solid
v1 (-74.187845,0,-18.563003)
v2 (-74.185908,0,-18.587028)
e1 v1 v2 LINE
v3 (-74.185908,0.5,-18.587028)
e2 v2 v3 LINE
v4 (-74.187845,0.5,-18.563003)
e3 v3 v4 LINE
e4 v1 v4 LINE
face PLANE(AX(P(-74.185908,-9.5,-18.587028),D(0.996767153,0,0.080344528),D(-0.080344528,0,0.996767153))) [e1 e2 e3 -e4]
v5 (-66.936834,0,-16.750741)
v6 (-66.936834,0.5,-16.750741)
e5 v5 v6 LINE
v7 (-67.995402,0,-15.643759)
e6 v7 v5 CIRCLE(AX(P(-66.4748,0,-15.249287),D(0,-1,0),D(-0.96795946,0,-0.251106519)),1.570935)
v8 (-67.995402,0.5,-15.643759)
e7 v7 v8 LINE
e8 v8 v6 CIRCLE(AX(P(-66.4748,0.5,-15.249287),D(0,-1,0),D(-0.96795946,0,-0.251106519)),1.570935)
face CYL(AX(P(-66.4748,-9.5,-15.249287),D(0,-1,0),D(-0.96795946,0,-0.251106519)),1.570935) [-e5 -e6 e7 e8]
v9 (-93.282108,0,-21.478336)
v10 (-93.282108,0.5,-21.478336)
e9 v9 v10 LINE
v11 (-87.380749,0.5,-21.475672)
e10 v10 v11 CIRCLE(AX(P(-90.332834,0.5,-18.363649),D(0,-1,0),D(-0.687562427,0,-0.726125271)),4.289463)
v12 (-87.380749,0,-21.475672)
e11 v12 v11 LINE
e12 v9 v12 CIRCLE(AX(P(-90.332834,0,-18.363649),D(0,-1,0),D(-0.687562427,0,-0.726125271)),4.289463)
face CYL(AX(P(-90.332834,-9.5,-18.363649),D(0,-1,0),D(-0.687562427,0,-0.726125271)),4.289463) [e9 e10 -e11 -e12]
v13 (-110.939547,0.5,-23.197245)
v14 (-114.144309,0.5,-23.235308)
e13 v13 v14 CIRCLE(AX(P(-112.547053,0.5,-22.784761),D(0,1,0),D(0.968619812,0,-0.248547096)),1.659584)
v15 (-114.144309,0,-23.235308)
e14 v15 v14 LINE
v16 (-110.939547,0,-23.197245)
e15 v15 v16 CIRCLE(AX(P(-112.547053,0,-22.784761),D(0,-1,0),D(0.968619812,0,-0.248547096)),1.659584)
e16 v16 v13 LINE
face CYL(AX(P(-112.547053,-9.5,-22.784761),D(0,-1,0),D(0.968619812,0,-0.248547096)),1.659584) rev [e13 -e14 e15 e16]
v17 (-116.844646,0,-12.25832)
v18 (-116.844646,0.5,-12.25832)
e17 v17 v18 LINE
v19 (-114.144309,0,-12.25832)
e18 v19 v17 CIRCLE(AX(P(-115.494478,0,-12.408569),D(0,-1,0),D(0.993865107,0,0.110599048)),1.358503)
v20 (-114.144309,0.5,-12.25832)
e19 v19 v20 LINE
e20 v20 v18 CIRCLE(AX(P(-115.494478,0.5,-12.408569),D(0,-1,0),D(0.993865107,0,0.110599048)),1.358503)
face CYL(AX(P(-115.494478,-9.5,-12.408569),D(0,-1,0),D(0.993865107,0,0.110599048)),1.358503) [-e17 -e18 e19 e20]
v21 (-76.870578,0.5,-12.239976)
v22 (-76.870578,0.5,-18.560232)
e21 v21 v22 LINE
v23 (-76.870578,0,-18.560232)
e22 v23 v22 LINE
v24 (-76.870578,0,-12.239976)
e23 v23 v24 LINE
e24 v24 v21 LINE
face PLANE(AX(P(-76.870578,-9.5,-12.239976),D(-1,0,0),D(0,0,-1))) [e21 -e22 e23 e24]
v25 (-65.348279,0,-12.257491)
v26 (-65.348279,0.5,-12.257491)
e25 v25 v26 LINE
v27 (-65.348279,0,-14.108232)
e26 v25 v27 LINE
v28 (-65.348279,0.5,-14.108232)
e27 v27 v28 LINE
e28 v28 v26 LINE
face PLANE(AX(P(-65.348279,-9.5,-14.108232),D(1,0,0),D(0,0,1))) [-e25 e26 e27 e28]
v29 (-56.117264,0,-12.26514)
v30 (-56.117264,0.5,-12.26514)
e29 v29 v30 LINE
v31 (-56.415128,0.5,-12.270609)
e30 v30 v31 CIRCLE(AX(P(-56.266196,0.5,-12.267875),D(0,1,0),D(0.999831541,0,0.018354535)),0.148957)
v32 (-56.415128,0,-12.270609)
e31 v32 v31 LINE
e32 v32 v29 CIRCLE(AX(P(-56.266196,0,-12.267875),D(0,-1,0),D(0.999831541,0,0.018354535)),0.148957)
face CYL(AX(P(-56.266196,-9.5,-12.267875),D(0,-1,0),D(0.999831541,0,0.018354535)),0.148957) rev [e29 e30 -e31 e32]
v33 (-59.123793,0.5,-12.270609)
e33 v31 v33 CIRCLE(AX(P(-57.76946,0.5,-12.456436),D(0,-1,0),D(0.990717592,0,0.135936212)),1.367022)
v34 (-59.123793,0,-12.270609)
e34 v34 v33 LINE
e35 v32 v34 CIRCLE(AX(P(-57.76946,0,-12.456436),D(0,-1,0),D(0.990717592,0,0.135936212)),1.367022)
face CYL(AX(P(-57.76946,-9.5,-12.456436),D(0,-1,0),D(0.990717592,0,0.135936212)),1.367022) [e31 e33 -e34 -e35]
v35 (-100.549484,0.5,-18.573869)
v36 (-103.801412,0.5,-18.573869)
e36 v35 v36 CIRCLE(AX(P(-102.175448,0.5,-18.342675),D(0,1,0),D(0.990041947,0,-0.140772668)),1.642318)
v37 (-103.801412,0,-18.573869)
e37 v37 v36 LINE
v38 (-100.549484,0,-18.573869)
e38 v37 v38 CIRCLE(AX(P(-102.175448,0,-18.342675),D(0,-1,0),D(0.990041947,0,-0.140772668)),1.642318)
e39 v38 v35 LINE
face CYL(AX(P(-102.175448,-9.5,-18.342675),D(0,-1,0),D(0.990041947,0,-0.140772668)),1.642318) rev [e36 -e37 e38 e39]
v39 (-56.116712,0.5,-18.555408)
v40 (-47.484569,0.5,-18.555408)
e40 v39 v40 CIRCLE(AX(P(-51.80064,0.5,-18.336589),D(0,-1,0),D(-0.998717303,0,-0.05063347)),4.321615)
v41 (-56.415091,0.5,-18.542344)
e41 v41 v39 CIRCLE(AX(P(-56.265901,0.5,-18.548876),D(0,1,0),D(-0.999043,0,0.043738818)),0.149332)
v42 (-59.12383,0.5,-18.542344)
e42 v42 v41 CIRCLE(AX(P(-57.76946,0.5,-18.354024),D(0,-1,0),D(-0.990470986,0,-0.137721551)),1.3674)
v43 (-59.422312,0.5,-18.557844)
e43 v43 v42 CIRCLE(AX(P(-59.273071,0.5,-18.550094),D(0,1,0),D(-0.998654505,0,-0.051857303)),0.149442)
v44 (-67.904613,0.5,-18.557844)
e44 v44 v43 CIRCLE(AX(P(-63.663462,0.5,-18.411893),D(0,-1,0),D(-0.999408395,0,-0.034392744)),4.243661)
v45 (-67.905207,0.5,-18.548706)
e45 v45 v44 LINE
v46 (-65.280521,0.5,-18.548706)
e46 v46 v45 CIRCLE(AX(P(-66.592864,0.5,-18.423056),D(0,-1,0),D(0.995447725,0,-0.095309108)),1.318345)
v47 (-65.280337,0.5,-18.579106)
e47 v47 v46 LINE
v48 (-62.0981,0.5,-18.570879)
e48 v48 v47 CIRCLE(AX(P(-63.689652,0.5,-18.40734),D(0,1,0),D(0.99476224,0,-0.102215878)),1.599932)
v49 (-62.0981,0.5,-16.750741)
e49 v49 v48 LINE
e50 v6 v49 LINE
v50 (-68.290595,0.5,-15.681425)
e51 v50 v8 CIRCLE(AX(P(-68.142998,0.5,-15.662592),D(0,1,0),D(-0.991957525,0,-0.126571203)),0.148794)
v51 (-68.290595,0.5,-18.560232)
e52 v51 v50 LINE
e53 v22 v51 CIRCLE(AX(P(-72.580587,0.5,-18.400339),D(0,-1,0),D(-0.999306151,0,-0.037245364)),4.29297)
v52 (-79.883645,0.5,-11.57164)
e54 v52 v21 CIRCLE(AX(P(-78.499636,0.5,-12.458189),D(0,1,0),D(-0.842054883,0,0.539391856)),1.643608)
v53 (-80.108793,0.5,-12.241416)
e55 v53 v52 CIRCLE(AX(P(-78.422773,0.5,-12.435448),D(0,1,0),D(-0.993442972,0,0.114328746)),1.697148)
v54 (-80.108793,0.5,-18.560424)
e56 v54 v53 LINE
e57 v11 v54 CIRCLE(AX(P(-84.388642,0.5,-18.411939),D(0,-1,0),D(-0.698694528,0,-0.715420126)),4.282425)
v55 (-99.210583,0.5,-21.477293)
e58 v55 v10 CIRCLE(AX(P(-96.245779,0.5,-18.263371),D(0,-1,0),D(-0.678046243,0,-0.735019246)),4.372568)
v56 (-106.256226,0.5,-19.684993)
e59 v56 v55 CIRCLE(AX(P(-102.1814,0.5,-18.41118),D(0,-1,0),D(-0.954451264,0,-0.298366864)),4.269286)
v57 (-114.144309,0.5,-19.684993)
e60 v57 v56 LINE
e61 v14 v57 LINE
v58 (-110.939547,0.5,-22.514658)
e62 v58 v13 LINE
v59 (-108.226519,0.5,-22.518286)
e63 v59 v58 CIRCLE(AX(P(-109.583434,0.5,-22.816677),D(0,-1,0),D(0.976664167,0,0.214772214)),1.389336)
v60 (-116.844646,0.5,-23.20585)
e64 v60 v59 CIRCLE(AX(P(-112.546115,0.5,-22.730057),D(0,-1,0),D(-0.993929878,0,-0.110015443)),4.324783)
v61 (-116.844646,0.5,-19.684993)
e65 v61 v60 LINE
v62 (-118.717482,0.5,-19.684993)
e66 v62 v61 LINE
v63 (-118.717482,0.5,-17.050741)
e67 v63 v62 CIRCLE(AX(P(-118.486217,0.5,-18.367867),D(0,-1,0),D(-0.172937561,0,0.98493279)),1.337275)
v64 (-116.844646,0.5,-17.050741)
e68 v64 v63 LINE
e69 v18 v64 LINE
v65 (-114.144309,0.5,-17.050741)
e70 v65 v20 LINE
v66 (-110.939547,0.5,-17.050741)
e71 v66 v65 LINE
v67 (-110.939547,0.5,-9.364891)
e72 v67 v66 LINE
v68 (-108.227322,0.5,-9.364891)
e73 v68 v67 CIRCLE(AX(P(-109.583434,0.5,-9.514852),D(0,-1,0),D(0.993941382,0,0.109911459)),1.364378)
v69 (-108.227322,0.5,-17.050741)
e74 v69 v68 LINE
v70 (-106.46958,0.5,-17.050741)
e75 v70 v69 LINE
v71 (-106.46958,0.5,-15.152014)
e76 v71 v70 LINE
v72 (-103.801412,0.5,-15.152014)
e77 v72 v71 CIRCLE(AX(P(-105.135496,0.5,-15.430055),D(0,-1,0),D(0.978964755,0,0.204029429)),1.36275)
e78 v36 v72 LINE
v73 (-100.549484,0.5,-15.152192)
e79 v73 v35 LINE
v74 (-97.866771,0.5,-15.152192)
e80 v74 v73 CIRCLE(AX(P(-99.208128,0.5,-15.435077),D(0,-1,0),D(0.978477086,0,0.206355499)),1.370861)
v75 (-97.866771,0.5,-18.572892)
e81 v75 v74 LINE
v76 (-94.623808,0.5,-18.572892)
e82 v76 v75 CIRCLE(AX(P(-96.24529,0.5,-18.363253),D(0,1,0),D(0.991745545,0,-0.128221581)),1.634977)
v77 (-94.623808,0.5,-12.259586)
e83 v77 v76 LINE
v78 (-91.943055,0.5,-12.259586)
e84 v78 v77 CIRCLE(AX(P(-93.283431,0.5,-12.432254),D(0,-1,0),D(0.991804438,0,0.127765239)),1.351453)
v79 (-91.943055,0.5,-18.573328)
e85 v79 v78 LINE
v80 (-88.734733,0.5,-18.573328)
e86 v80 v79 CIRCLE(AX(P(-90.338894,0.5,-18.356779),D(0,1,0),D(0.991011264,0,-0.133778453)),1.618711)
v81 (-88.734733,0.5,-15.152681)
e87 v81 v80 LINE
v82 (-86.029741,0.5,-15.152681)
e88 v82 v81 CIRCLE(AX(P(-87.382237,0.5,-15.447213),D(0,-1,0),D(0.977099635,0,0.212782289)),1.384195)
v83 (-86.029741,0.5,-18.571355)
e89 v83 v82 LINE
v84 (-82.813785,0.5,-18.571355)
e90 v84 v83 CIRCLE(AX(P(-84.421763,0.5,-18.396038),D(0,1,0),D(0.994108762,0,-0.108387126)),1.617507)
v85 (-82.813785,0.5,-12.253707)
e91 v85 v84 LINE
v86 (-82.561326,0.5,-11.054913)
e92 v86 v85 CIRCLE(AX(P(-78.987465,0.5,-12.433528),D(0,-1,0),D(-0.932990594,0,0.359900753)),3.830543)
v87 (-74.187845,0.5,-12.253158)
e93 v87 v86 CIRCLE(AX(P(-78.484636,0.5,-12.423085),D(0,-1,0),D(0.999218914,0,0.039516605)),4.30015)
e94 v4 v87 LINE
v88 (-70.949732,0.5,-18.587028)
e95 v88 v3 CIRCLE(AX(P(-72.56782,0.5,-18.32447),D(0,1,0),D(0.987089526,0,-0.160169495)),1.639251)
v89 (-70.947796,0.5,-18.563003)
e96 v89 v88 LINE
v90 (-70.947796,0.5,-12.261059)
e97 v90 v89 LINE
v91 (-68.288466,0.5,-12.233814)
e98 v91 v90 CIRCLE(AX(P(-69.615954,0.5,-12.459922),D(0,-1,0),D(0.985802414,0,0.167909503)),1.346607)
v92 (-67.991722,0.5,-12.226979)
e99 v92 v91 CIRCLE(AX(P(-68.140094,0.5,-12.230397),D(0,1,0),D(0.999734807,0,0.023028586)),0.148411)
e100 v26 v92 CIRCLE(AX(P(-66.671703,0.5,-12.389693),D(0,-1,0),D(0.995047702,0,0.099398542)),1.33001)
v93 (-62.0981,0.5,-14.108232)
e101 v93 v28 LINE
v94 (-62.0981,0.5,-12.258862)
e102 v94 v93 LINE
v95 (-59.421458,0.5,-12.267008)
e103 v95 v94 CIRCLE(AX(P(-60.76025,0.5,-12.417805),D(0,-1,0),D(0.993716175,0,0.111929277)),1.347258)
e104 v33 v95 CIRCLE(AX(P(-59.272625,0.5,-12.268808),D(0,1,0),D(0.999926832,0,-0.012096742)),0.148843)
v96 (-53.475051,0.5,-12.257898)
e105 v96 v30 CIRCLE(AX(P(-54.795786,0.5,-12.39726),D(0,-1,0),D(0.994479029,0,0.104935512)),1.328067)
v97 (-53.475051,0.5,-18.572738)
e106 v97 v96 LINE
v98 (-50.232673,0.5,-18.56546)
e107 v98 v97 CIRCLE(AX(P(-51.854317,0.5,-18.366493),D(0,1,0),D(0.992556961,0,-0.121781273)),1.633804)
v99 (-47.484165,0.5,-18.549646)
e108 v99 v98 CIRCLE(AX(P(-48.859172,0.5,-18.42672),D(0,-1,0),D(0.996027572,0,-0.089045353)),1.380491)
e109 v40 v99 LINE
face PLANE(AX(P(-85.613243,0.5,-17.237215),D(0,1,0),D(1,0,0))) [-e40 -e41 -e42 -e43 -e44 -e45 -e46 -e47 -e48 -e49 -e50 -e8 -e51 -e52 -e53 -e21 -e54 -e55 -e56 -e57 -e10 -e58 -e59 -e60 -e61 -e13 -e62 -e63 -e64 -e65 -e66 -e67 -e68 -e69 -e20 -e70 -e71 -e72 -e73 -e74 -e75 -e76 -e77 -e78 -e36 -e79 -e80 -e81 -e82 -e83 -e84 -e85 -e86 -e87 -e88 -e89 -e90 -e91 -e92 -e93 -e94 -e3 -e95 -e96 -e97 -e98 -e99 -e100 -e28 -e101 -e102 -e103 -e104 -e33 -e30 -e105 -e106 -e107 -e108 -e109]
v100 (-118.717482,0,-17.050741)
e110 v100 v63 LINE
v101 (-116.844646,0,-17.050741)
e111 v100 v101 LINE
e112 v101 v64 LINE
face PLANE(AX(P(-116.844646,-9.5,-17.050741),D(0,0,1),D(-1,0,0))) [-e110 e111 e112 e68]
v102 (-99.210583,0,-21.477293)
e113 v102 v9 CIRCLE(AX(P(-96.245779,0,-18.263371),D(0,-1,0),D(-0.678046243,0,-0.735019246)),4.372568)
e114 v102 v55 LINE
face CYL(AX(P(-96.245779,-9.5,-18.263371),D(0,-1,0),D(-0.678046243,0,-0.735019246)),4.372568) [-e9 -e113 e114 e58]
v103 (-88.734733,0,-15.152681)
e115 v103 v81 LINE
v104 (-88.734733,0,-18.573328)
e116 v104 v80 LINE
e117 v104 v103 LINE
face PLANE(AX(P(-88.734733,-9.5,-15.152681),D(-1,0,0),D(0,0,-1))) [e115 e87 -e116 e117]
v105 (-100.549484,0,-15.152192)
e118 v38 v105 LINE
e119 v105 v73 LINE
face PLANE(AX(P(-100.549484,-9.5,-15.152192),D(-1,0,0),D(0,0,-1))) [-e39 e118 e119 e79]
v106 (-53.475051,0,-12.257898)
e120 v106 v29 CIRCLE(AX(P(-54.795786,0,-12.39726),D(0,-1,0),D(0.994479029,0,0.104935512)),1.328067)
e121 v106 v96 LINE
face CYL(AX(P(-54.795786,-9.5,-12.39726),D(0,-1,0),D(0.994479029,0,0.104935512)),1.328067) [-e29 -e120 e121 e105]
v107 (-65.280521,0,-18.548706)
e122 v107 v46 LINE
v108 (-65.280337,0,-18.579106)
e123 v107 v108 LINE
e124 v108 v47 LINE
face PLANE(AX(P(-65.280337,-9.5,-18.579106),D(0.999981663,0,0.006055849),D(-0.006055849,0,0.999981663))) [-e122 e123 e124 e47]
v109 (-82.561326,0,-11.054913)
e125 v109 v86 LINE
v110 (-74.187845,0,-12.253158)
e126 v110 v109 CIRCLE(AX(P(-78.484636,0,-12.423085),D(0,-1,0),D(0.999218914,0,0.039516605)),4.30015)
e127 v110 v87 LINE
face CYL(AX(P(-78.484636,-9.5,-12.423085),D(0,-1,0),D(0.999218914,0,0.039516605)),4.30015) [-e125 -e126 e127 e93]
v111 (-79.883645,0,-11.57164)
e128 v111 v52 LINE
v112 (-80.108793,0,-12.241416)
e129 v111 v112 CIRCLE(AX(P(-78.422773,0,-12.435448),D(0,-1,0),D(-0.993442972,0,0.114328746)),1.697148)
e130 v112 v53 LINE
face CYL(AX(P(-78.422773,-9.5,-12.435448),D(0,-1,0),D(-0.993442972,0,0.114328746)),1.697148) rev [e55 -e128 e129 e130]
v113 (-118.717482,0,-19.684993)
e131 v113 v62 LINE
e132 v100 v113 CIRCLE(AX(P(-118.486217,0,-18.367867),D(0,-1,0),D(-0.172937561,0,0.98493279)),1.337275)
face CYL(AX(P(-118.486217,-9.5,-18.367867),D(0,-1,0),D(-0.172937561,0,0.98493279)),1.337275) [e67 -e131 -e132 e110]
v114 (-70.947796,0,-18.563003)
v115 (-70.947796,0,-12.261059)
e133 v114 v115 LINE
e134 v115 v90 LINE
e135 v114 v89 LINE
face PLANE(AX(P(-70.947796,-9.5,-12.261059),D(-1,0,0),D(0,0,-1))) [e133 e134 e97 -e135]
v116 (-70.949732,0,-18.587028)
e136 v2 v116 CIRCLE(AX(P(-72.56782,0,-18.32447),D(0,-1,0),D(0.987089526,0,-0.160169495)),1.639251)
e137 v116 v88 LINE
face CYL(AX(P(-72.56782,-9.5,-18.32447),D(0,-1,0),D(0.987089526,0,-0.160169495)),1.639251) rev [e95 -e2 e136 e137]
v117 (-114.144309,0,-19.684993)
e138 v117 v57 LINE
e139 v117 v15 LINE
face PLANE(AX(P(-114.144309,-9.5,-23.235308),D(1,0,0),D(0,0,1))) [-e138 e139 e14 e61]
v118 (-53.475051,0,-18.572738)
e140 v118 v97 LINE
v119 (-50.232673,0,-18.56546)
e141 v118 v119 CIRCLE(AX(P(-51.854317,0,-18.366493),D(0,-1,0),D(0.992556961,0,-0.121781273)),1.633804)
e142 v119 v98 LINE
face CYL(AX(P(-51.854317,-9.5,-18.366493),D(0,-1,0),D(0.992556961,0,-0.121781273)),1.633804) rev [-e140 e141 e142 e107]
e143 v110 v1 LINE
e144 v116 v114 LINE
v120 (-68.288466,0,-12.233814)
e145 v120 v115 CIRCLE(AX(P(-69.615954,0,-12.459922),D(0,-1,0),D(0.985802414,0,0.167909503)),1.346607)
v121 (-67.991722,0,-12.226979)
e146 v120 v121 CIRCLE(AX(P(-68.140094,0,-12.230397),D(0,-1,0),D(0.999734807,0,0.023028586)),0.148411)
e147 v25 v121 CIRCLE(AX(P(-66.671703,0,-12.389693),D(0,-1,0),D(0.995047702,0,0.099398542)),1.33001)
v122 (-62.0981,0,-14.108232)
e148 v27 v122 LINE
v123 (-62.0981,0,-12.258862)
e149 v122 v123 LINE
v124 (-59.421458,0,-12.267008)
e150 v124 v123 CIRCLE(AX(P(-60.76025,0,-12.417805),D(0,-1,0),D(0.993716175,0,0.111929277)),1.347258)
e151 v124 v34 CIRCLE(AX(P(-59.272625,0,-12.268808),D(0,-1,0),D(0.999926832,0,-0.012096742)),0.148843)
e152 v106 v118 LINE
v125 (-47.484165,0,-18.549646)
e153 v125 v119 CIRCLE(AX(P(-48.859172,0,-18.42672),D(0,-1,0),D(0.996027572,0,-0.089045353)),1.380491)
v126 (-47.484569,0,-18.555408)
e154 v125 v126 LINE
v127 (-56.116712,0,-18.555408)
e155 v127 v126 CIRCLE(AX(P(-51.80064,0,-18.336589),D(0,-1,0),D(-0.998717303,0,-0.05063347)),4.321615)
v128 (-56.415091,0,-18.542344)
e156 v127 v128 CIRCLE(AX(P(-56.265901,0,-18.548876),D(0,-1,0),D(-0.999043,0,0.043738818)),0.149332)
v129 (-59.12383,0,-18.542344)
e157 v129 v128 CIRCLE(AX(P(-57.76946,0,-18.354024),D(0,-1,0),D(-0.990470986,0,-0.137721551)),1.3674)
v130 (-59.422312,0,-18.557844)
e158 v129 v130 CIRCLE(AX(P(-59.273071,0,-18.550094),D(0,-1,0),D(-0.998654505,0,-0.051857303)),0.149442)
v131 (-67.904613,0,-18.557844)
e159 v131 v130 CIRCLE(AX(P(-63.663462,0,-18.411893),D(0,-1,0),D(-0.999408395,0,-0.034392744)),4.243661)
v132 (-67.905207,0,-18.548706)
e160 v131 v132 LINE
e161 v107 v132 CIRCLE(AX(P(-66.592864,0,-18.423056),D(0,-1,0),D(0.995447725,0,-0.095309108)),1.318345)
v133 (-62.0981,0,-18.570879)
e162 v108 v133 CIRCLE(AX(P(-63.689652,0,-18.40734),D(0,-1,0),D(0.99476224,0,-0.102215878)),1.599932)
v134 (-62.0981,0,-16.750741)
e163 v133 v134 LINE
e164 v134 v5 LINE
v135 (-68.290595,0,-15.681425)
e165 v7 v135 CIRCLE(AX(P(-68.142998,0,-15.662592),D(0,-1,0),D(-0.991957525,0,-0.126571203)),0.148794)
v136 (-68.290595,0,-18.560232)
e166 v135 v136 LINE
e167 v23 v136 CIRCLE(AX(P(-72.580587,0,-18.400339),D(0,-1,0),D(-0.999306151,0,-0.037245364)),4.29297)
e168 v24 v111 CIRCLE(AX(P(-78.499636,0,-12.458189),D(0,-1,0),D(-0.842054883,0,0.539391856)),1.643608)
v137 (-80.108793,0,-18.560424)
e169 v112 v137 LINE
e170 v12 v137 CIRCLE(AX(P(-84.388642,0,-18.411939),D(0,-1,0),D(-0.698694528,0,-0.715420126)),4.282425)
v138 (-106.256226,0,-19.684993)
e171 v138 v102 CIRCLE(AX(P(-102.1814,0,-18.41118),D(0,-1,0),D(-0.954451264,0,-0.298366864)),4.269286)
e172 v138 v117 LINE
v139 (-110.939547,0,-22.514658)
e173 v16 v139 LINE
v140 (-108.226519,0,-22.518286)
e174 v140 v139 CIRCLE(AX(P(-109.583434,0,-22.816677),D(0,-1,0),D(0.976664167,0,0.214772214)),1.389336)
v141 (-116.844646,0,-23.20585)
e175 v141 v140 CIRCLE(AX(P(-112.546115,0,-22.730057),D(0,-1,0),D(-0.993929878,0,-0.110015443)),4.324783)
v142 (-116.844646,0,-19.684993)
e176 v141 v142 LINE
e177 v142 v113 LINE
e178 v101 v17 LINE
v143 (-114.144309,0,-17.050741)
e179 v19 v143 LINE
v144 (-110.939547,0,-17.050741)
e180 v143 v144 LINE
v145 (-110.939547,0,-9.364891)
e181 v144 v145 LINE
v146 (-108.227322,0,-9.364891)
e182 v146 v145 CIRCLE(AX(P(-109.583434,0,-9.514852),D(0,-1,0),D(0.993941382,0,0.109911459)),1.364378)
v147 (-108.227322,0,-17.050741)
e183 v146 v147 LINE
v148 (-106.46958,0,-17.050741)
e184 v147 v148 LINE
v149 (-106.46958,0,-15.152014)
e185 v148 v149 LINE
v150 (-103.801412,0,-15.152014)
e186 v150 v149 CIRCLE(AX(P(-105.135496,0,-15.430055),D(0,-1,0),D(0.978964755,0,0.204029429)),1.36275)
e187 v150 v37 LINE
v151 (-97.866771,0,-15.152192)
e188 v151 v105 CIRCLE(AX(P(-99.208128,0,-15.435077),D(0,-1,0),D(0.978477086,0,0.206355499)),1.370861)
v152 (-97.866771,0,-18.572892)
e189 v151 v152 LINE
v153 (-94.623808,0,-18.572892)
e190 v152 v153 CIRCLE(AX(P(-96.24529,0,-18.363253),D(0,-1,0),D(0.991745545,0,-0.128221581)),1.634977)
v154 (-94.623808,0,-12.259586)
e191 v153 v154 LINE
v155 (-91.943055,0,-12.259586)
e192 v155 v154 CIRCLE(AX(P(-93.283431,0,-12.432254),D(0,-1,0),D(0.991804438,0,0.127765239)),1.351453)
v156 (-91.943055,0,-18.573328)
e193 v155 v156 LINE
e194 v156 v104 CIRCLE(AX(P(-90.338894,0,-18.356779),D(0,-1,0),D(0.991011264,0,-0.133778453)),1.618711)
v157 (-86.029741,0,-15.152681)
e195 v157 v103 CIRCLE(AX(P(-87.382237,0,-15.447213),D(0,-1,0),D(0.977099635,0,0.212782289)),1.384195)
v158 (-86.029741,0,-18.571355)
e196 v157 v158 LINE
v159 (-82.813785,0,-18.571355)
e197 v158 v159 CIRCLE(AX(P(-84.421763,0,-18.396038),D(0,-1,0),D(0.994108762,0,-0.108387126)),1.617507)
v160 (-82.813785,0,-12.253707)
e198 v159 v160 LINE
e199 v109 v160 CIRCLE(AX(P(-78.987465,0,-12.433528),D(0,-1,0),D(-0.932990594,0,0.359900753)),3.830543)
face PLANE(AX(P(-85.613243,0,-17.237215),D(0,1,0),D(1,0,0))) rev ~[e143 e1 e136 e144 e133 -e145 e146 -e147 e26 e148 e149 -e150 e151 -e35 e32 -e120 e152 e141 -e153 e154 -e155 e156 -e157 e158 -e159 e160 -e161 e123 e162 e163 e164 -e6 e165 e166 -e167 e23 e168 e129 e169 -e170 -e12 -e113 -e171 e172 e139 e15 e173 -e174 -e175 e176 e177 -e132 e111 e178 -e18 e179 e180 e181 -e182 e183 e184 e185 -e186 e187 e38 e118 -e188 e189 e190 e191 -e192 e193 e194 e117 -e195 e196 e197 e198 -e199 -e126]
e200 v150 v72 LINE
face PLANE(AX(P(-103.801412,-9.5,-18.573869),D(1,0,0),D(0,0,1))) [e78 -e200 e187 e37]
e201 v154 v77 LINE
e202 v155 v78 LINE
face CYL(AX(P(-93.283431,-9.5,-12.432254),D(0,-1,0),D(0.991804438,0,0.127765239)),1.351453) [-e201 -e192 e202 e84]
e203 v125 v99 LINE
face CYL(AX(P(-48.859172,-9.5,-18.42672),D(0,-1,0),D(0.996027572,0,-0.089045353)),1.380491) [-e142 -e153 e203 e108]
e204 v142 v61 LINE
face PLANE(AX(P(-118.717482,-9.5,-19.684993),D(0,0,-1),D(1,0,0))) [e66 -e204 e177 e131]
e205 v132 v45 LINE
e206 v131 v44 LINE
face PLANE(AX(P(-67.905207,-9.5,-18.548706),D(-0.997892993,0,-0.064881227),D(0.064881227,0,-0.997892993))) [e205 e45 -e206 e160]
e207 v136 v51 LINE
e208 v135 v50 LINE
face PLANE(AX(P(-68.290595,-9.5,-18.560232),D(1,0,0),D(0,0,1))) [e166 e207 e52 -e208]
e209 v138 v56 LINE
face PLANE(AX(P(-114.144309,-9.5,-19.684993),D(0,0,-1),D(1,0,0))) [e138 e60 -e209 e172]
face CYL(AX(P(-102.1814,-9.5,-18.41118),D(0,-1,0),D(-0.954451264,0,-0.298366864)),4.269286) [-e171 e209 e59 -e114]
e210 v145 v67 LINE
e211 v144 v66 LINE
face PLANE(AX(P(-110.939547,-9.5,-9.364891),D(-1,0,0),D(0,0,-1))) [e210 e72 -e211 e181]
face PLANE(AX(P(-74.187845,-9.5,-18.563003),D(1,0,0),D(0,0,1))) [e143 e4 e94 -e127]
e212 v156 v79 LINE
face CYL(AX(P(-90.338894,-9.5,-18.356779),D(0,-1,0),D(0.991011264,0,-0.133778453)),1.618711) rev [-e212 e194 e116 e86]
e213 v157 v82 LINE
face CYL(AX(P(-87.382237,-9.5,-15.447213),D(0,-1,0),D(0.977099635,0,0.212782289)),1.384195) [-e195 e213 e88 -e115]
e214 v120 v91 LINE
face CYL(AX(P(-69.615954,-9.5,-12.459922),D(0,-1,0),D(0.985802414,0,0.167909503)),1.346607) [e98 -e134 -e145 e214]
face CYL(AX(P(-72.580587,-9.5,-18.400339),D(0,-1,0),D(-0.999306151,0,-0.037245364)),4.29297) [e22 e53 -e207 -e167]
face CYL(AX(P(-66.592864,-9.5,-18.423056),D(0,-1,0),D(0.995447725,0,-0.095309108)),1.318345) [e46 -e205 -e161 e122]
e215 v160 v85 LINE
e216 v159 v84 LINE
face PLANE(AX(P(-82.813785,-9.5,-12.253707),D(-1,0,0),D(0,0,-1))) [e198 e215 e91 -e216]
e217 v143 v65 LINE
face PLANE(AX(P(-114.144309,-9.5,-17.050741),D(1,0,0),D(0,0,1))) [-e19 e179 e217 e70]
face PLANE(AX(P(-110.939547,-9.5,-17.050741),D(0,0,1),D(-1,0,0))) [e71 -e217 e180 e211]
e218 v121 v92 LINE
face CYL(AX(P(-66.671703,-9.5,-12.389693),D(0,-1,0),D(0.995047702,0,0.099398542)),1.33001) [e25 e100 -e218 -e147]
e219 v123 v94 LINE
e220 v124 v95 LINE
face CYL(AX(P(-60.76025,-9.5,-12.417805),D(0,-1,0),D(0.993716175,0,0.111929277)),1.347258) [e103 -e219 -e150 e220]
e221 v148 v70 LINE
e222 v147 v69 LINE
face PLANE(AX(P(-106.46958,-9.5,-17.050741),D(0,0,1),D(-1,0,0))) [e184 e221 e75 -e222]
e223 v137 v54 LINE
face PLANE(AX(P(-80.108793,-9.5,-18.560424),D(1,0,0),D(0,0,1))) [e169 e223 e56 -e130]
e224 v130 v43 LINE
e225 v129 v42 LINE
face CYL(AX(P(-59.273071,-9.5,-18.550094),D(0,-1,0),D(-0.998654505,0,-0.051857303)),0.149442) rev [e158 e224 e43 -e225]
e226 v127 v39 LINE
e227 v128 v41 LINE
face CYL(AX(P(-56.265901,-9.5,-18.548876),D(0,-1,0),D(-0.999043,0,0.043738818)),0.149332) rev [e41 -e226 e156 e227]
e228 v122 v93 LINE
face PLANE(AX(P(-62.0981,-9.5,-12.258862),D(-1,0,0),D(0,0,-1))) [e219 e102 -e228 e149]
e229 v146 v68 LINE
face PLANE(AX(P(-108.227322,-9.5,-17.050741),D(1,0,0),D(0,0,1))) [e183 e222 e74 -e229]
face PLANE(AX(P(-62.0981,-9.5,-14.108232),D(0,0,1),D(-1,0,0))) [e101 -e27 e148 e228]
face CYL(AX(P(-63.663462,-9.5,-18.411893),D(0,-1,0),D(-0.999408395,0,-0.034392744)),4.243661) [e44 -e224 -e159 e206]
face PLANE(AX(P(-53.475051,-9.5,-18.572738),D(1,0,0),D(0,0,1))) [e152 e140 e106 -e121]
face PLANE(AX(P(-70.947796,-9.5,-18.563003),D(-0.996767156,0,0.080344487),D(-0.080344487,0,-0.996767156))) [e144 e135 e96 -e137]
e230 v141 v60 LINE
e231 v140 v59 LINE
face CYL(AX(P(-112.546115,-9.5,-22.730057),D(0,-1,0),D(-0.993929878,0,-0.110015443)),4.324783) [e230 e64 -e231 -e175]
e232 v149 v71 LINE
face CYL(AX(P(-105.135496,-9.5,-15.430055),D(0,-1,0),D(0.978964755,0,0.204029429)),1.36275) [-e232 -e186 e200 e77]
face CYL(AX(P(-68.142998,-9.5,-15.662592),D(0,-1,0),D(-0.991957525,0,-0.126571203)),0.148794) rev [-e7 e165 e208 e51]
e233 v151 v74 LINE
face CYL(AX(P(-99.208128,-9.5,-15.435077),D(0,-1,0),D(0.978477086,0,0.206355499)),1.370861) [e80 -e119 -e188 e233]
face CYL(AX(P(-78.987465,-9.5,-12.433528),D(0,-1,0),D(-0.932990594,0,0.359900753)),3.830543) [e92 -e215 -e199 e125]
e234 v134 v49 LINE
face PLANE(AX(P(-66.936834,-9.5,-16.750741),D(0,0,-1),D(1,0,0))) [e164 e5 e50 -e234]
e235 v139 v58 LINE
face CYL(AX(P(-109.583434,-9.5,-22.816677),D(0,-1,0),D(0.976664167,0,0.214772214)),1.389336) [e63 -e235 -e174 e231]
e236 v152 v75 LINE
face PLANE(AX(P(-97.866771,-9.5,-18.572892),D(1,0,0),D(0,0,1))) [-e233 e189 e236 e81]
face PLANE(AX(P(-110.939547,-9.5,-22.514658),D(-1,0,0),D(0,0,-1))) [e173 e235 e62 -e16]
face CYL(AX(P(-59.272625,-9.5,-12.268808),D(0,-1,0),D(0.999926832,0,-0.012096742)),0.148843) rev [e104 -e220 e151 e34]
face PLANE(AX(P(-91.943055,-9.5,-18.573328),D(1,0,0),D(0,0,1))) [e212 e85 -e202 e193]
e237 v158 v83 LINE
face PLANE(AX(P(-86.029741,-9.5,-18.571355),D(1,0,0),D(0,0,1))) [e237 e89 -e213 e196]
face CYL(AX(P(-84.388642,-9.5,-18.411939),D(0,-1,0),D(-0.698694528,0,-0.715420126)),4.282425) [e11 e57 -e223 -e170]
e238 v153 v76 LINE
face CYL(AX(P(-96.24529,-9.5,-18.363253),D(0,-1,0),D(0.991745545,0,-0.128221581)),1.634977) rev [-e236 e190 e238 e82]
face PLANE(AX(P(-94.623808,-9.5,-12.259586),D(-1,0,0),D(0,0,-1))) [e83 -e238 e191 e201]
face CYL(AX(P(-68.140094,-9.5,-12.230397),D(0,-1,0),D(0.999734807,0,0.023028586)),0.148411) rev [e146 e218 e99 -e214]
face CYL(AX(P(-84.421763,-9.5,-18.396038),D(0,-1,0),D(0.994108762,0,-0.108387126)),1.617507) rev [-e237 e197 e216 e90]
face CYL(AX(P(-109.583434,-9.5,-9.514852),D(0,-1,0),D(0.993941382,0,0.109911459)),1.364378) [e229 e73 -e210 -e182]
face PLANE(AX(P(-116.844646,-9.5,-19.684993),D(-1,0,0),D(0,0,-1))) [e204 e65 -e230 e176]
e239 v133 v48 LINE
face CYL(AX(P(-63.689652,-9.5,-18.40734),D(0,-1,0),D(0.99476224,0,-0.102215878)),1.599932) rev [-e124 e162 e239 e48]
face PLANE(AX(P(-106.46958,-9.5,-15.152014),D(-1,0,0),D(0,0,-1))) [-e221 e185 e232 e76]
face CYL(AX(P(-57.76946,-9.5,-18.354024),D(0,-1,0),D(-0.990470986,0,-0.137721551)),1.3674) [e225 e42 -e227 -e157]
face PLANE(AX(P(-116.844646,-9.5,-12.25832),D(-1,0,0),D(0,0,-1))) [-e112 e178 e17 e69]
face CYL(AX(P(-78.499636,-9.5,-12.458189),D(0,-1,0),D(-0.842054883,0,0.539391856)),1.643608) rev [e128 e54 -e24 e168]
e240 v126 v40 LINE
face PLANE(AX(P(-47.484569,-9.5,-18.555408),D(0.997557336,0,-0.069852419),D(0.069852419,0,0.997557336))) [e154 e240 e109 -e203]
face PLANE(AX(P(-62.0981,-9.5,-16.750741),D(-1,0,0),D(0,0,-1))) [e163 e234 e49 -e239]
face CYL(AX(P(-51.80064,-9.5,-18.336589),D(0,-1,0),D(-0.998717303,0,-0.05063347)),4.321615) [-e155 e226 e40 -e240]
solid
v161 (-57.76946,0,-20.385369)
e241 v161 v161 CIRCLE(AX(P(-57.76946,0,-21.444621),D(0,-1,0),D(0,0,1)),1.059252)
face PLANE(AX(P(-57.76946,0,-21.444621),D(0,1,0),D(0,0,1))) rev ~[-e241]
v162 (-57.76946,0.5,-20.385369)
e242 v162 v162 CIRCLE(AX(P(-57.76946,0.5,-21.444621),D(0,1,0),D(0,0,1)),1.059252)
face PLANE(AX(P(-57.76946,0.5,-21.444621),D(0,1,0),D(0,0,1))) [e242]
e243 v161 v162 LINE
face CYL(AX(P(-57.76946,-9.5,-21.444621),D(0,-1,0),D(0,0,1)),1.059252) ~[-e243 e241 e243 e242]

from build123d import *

# Parameters (mm, degrees)
SKETCH1_R             = 1.209251999
BOSS_EXTRUDE1_DEPTH   = 0.5
BOSS_EXTRUDE1_2_DEPTH = 0.5
CUT_EXTRUDE1_START    = -10
SKETCH2_R             = 1.209251999
SKETCH2_R_2           = 1.059251999
CUT_EXTRUDE1_DEPTH    = 10


with BuildPart() as part:
    # Sketch1 → Boss-Extrude1 (new body)
    with BuildSketch(Plane(origin=(0, 0, 0), x_dir=(1, 0, 0), z_dir=(0, 1, 0))):
        with Locations(Location((-57.769460136, 21.444621451, 0), (0, 0, 270))):
            Circle(SKETCH1_R)
    extrude(amount=BOSS_EXTRUDE1_DEPTH)


with BuildPart() as body_2:
    # Sketch1 → Boss-Extrude1 2 (new body)
    with BuildSketch(Plane(origin=(0, 0, 0), x_dir=(1, 0, 0), z_dir=(0, 1, 0))):
        with BuildLine():
            Line((-116.99464605, 16.900740614), (-116.99464605, 12.250218127))
            ThreePointArc((-116.99464605, 12.250218127), (-115.494477506, 10.900066437), (-113.994308962, 12.250218127))
            Line((-113.994308962, 12.250218127), (-113.994308962, 16.900740614))
            Line((-113.994308962, 16.900740614), (-111.08954668, 16.900740614))
            Line((-111.08954668, 16.900740614), (-111.08954668, 9.356838959))
            ThreePointArc((-111.08954668, 9.356838959), (-109.583434439, 8.000473522), (-108.077322198, 9.356838959))
            Line((-108.077322198, 9.356838959), (-108.077322198, 16.900740614))
            Line((-108.077322198, 16.900740614), (-106.619579771, 16.900740614))
            Line((-106.619579771, 16.900740614), (-106.619579771, 15.136957189))
            ThreePointArc((-106.619579771, 15.136957189), (-105.135495695, 13.917305566), (-103.651411619, 15.136957189))
            Line((-103.651411619, 15.136957189), (-103.651411619, 18.56300271))
            ThreePointArc((-103.651411619, 18.56300271), (-102.175447813, 19.834993444), (-100.699484006, 18.56300271))
            Line((-100.699484006, 18.56300271), (-100.699484006, 15.136957189))
            ThreePointArc((-100.699484006, 15.136957189), (-99.208127539, 13.914215368), (-97.716771072, 15.136957189))
            Line((-97.716771072, 15.136957189), (-97.716771072, 18.56300271))
            ThreePointArc((-97.716771072, 18.56300271), (-96.245289523, 19.848230468), (-94.773807974, 18.56300271))
            Line((-94.773807974, 18.56300271), (-94.773807974, 12.250218127))
            ThreePointArc((-94.773807974, 12.250218127), (-93.283431352, 10.930801959), (-91.793054731, 12.250218127))
            Line((-91.793054731, 12.250218127), (-91.793054731, 18.56300271))
            ThreePointArc((-91.793054731, 18.56300271), (-90.338893982, 19.825489802), (-88.884733233, 18.56300271))
            Line((-88.884733233, 18.56300271), (-88.884733233, 15.136957189))
            ThreePointArc((-88.884733233, 15.136957189), (-87.382237001, 13.913018333), (-85.879740768, 15.136957189))
            Line((-85.879740768, 15.136957189), (-85.879740768, 18.56300271))
            ThreePointArc((-85.879740768, 18.56300271), (-84.421762943, 19.863544717), (-82.963785118, 18.56300271))
            Line((-82.963785118, 18.56300271), (-82.963785118, 12.250218127))
            ThreePointArc((-82.963785118, 12.250218127), (-82.883279485, 11.616611092), (-82.702472023, 11.004036449))
            ThreePointArc((-82.702472023, 11.004036449), (-77.851116297, 8.018259078), (-74.03784454, 12.250218127))
            Line((-74.03784454, 12.250218127), (-74.03784454, 18.56300271))
            ThreePointArc((-74.03784454, 18.56300271), (-72.567820129, 19.813721424), (-71.097795718, 18.56300271))
            Line((-71.097795718, 18.56300271), (-71.097795718, 12.250218127))
            ThreePointArc((-71.097795718, 12.250218127), (-69.637000134, 10.963463673), (-68.140595422, 12.208627799))
            ThreePointArc((-68.140595422, 12.208627799), (-66.650784409, 10.90983005), (-65.198278901, 12.250218127))
            Line((-65.198278901, 12.250218127), (-65.198278901, 13.958232408))
            Line((-65.198278901, 13.958232408), (-62.248100019, 13.958232408))
            Line((-62.248100019, 13.958232408), (-62.248100019, 12.250218127))
            ThreePointArc((-62.248100019, 12.250218127), (-60.760250184, 10.920546827), (-59.272400349, 12.250218127))
            ThreePointArc((-59.272400349, 12.250218127), (-57.769460136, 10.939414499), (-56.266519924, 12.250218127))
            ThreePointArc((-56.266519924, 12.250218127), (-54.795785573, 10.919193219), (-53.325051222, 12.250218127))
            Line((-53.325051222, 12.250218127), (-53.325051222, 18.56300271))
            ThreePointArc((-53.325051222, 18.56300271), (-51.854316871, 19.850297235), (-50.38358252, 18.56300271))
            ThreePointArc((-50.38358252, 18.56300271), (-48.859171733, 16.896229088), (-47.334760946, 18.56300271))
            ThreePointArc((-47.334760946, 18.56300271), (-51.800640435, 22.80820453), (-56.266519924, 18.56300271))
            ThreePointArc((-56.266519924, 18.56300271), (-57.769460136, 19.871423627), (-59.272400349, 18.56300271))
            ThreePointArc((-59.272400349, 18.56300271), (-63.66346233, 22.805553938), (-68.05452431, 18.56300271))
            ThreePointArc((-68.05452431, 18.56300271), (-66.592863995, 16.954711471), (-65.13120368, 18.56300271))
            ThreePointArc((-65.13120368, 18.56300271), (-63.689651849, 19.85727213), (-62.248100019, 18.56300271))
            Line((-62.248100019, 18.56300271), (-62.248100019, 16.900740614))
            Line((-62.248100019, 16.900740614), (-66.958866007, 16.900740614))
            ThreePointArc((-66.958866007, 16.900740614), (-67.710582518, 16.446976526), (-68.140595422, 15.681425442))
            Line((-68.140595422, 15.681425442), (-68.140595422, 18.56300271))
            ThreePointArc((-68.140595422, 18.56300271), (-72.580586611, 22.843308976), (-77.0205778, 18.56300271))
            Line((-77.0205778, 18.56300271), (-77.0205778, 12.250218127))
            ThreePointArc((-77.0205778, 12.250218127), (-78.179656219, 10.99925818), (-79.755890288, 11.650295606))
            ThreePointArc((-79.755890288, 11.650295606), (-79.888366212, 11.939763856), (-79.958792654, 12.250218127))
            Line((-79.958792654, 12.250218127), (-79.958792654, 18.56300271))
            ThreePointArc((-79.958792654, 18.56300271), (-82.672334819, 22.49858506), (-87.382237001, 21.680696957))
            ThreePointArc((-87.382237001, 21.680696957), (-90.332834176, 22.803111884), (-93.283431352, 21.680696957))
            ThreePointArc((-93.283431352, 21.680696957), (-96.245779446, 22.785939283), (-99.208127539, 21.680696957))
            ThreePointArc((-99.208127539, 21.680696957), (-103.284986599, 22.690454276), (-106.365040669, 19.834993444))
            Line((-106.365040669, 19.834993444), (-106.619579771, 19.834993444))
            Line((-106.619579771, 19.834993444), (-113.994308962, 19.834993444))
            Line((-113.994308962, 19.834993444), (-113.994308962, 23.214055484))
            ThreePointArc((-113.994308962, 23.214055484), (-112.528239221, 24.294227528), (-111.08954668, 23.177851291))
            Line((-111.08954668, 23.177851291), (-111.08954668, 22.49858506))
            ThreePointArc((-111.08954668, 22.49858506), (-109.583434439, 21.277340516), (-108.077322198, 22.49858506))
            ThreePointArc((-108.077322198, 22.49858506), (-112.188236075, 27.19050638), (-116.99464605, 23.214055484))
            Line((-116.99464605, 23.214055484), (-116.99464605, 19.834993444))
            Line((-116.99464605, 19.834993444), (-118.730201095, 19.834993444))
            ThreePointArc((-118.730201095, 19.834993444), (-119.973492356, 18.367867029), (-118.730201095, 16.900740614))
            Line((-118.730201095, 16.900740614), (-116.99464605, 16.900740614))
        make_face()
    extrude(amount=BOSS_EXTRUDE1_2_DEPTH)


with BuildPart() as cut_extrude1_tool:
    # Sketch2 → Cut-Extrude1 (new body)
    # profile 1 of 2: a face of its own
    with BuildSketch(Plane(origin=(0, 0.5, 0), x_dir=(1, 0, 0), z_dir=(0, 1, 0)).offset(CUT_EXTRUDE1_START)):
        with BuildLine():
            ThreePointArc((-118.730201095, 19.834993444), (-119.973492356, 18.367867029), (-118.730201095, 16.900740614))
            Line((-118.730201095, 16.900740614), (-116.99464605, 16.900740614))
            Line((-116.99464605, 16.900740614), (-116.99464605, 12.250218127))
            ThreePointArc((-116.99464605, 12.250218127), (-115.494477506, 10.900066437), (-113.994308962, 12.250218127))
            Line((-113.994308962, 12.250218127), (-113.994308962, 16.900740614))
            Line((-113.994308962, 16.900740614), (-111.08954668, 16.900740614))
            Line((-111.08954668, 16.900740614), (-111.08954668, 9.356838959))
            ThreePointArc((-111.08954668, 9.356838959), (-109.583434439, 8.000473522), (-108.077322198, 9.356838959))
            Line((-108.077322198, 9.356838959), (-108.077322198, 16.900740614))
            Line((-108.077322198, 16.900740614), (-106.619579771, 16.900740614))
            Line((-106.619579771, 16.900740614), (-106.619579771, 15.136957189))
            ThreePointArc((-106.619579771, 15.136957189), (-105.135495695, 13.917305566), (-103.651411619, 15.136957189))
            Line((-103.651411619, 15.136957189), (-103.651411619, 18.56300271))
            ThreePointArc((-103.651411619, 18.56300271), (-102.175447813, 19.834993444), (-100.699484006, 18.56300271))
            Line((-100.699484006, 18.56300271), (-100.699484006, 15.136957189))
            ThreePointArc((-100.699484006, 15.136957189), (-99.208127539, 13.914215368), (-97.716771072, 15.136957189))
            Line((-97.716771072, 15.136957189), (-97.716771072, 18.56300271))
            ThreePointArc((-97.716771072, 18.56300271), (-96.245289523, 19.848230468), (-94.773807974, 18.56300271))
            Line((-94.773807974, 18.56300271), (-94.773807974, 12.250218127))
            ThreePointArc((-94.773807974, 12.250218127), (-93.283431352, 10.930801959), (-91.793054731, 12.250218127))
            Line((-91.793054731, 12.250218127), (-91.793054731, 18.56300271))
            ThreePointArc((-91.793054731, 18.56300271), (-90.338893982, 19.825489802), (-88.884733233, 18.56300271))
            Line((-88.884733233, 18.56300271), (-88.884733233, 15.136957189))
            ThreePointArc((-88.884733233, 15.136957189), (-87.382237001, 13.913018333), (-85.879740768, 15.136957189))
            Line((-85.879740768, 15.136957189), (-85.879740768, 18.56300271))
            ThreePointArc((-85.879740768, 18.56300271), (-84.421762943, 19.863544717), (-82.963785118, 18.56300271))
            Line((-82.963785118, 18.56300271), (-82.963785118, 12.250218127))
            ThreePointArc((-82.963785118, 12.250218127), (-82.883279485, 11.616611092), (-82.702472023, 11.004036449))
            ThreePointArc((-82.702472023, 11.004036449), (-77.851116297, 8.018259078), (-74.03784454, 12.250218127))
            Line((-74.03784454, 12.250218127), (-74.03784454, 18.56300271))
            ThreePointArc((-74.03784454, 18.56300271), (-72.567820129, 19.813721424), (-71.097795718, 18.56300271))
            Line((-71.097795718, 18.56300271), (-71.097795718, 12.250218127))
            ThreePointArc((-71.097795718, 12.250218127), (-69.637000134, 10.963463673), (-68.140595422, 12.208627799))
            ThreePointArc((-68.140595422, 12.208627799), (-66.650784409, 10.90983005), (-65.198278901, 12.250218127))
            Line((-65.198278901, 12.250218127), (-65.198278901, 13.958232408))
            Line((-65.198278901, 13.958232408), (-62.248100019, 13.958232408))
            Line((-62.248100019, 13.958232408), (-62.248100019, 12.250218127))
            ThreePointArc((-62.248100019, 12.250218127), (-60.760250184, 10.920546827), (-59.272400349, 12.250218127))
            ThreePointArc((-59.272400349, 12.250218127), (-57.769460136, 10.939414499), (-56.266519924, 12.250218127))
            ThreePointArc((-56.266519924, 12.250218127), (-54.795785573, 10.919193219), (-53.325051222, 12.250218127))
            Line((-53.325051222, 12.250218127), (-53.325051222, 18.56300271))
            ThreePointArc((-53.325051222, 18.56300271), (-51.854316871, 19.850297235), (-50.38358252, 18.56300271))
            ThreePointArc((-50.38358252, 18.56300271), (-48.859171733, 16.896229088), (-47.334760946, 18.56300271))
            ThreePointArc((-47.334760946, 18.56300271), (-51.800640435, 22.80820453), (-56.266519924, 18.56300271))
            ThreePointArc((-56.266519924, 18.56300271), (-57.769460136, 19.871423627), (-59.272400349, 18.56300271))
            ThreePointArc((-59.272400349, 18.56300271), (-63.66346233, 22.805553938), (-68.05452431, 18.56300271))
            ThreePointArc((-68.05452431, 18.56300271), (-66.592863995, 16.954711471), (-65.13120368, 18.56300271))
            ThreePointArc((-65.13120368, 18.56300271), (-63.689651849, 19.85727213), (-62.248100019, 18.56300271))
            Line((-62.248100019, 18.56300271), (-62.248100019, 16.900740614))
            Line((-62.248100019, 16.900740614), (-66.958866007, 16.900740614))
            ThreePointArc((-66.958866007, 16.900740614), (-67.710582518, 16.446976526), (-68.140595422, 15.681425442))
            Line((-68.140595422, 15.681425442), (-68.140595422, 18.56300271))
            ThreePointArc((-68.140595422, 18.56300271), (-72.580586611, 22.843308976), (-77.0205778, 18.56300271))
            Line((-77.0205778, 18.56300271), (-77.0205778, 12.250218127))
            ThreePointArc((-77.0205778, 12.250218127), (-78.179656219, 10.99925818), (-79.755890288, 11.650295606))
            ThreePointArc((-79.755890288, 11.650295606), (-79.888366212, 11.939763856), (-79.958792654, 12.250218127))
            Line((-79.958792654, 12.250218127), (-79.958792654, 18.56300271))
            ThreePointArc((-79.958792654, 18.56300271), (-82.672334819, 22.49858506), (-87.382237001, 21.680696957))
            ThreePointArc((-87.382237001, 21.680696957), (-90.332834176, 22.803111884), (-93.283431352, 21.680696957))
            ThreePointArc((-93.283431352, 21.680696957), (-96.245779446, 22.785939283), (-99.208127539, 21.680696957))
            ThreePointArc((-99.208127539, 21.680696957), (-103.284986599, 22.690454276), (-106.365040669, 19.834993444))
            Line((-106.365040669, 19.834993444), (-113.994308962, 19.834993444))
            Line((-113.994308962, 19.834993444), (-113.994308962, 23.214055484))
            ThreePointArc((-113.994308962, 23.214055484), (-112.528239221, 24.294227528), (-111.08954668, 23.177851291))
            Line((-111.08954668, 23.177851291), (-111.08954668, 22.49858506))
            ThreePointArc((-111.08954668, 22.49858506), (-109.583434439, 21.277340516), (-108.077322198, 22.49858506))
            ThreePointArc((-108.077322198, 22.49858506), (-112.188236075, 27.19050638), (-116.99464605, 23.214055484))
            Line((-116.99464605, 23.214055484), (-116.99464605, 19.834993444))
            Line((-116.99464605, 19.834993444), (-118.730201095, 19.834993444))
        make_face()
        with BuildLine():
            Line((-65.348278901, 14.108232408), (-65.348278901, 12.257491445))
            ThreePointArc((-65.348278901, 12.257491445), (-66.656351649, 11.059770809), (-67.991722188, 12.226978827))
            ThreePointArc((-67.991722188, 12.226978827), (-68.136676287, 12.378768324), (-68.288465784, 12.233814225))
            ThreePointArc((-68.288465784, 12.233814225), (-69.629749261, 11.113386348), (-70.947795718, 12.261059441))
            Line((-70.947795718, 12.261059441), (-70.947795718, 18.56300271))
            Line((-70.947795718, 18.56300271), (-70.949732289, 18.587028134))
            ThreePointArc((-70.949732289, 18.587028134), (-72.567820129, 19.963721424), (-74.185907968, 18.587028134))
            Line((-74.185907968, 18.587028134), (-74.18784454, 18.56300271))
            Line((-74.18784454, 18.56300271), (-74.18784454, 12.253157606))
            ThreePointArc((-74.18784454, 12.253157606), (-77.875490204, 8.166298078), (-82.561325798, 11.054912992))
            ThreePointArc((-82.561325798, 11.054912992), (-82.735790785, 11.64415192), (-82.813785118, 12.253707029))
            Line((-82.813785118, 12.253707029), (-82.813785118, 18.571354702))
            ThreePointArc((-82.813785118, 18.571354702), (-84.421762943, 20.013544717), (-86.029740768, 18.571354702))
            Line((-86.029740768, 18.571354702), (-86.029740768, 15.152680994))
            ThreePointArc((-86.029740768, 15.152680994), (-87.382237001, 14.063018333), (-88.734733233, 15.152680994))
            Line((-88.734733233, 15.152680994), (-88.734733233, 18.57332753))
            ThreePointArc((-88.734733233, 18.57332753), (-90.338893982, 19.975489802), (-91.943054731, 18.57332753))
            Line((-91.943054731, 18.57332753), (-91.943054731, 12.259585837))
            ThreePointArc((-91.943054731, 12.259585837), (-93.283431352, 11.080801959), (-94.623807974, 12.259585837))
            Line((-94.623807974, 12.259585837), (-94.623807974, 18.572892458))
            ThreePointArc((-94.623807974, 18.572892458), (-96.245289523, 19.998230468), (-97.866771072, 18.572892458))
            Line((-97.866771072, 18.572892458), (-97.866771072, 15.152191979))
            ThreePointArc((-97.866771072, 15.152191979), (-99.208127539, 14.064215368), (-100.549484006, 15.152191979))
            Line((-100.549484006, 15.152191979), (-100.549484006, 18.573868847))
            ThreePointArc((-100.549484006, 18.573868847), (-102.175447813, 19.984993444), (-103.801411619, 18.573868847))
            Line((-103.801411619, 18.573868847), (-103.801411619, 15.152014344))
            ThreePointArc((-103.801411619, 15.152014344), (-105.135495695, 14.067305566), (-106.469579771, 15.152014344))
            Line((-106.469579771, 15.152014344), (-106.469579771, 17.050740614))
            Line((-106.469579771, 17.050740614), (-108.227322198, 17.050740614))
            Line((-108.227322198, 17.050740614), (-108.227322198, 9.364891181))
            ThreePointArc((-108.227322198, 9.364891181), (-109.583434439, 8.150473522), (-110.93954668, 9.364891181))
            Line((-110.93954668, 9.364891181), (-110.93954668, 17.050740614))
            Line((-110.93954668, 17.050740614), (-114.144308962, 17.050740614))
            Line((-114.144308962, 17.050740614), (-114.144308962, 12.258320133))
            ThreePointArc((-114.144308962, 12.258320133), (-115.494477506, 11.050066437), (-116.84464605, 12.258320133))
            Line((-116.84464605, 12.258320133), (-116.84464605, 17.050740614))
            Line((-116.84464605, 17.050740614), (-118.717482081, 17.050740614))
            ThreePointArc((-118.717482081, 17.050740614), (-119.823492356, 18.367867029), (-118.717482081, 19.684993444))
            Line((-118.717482081, 19.684993444), (-116.84464605, 19.684993444))
            Line((-116.84464605, 19.684993444), (-116.84464605, 23.205849963))
            ThreePointArc((-116.84464605, 23.205849963), (-112.202171454, 27.041141994), (-108.226519377, 22.518286048))
            ThreePointArc((-108.226519377, 22.518286048), (-109.581576727, 21.427341758), (-110.93954668, 22.514658397))
            Line((-110.93954668, 22.514658397), (-110.93954668, 23.197245398))
            ThreePointArc((-110.93954668, 23.197245398), (-112.527343771, 24.444227732), (-114.144308962, 23.235307506))
            Line((-114.144308962, 23.235307506), (-114.144308962, 19.684993444))
            Line((-114.144308962, 19.684993444), (-106.256226051, 19.684993444))
            ThreePointArc((-106.256226051, 19.684993444), (-103.233917652, 22.548692827), (-99.21058265, 21.477292958))
            ThreePointArc((-99.21058265, 21.477292958), (-96.246549024, 22.635939215), (-93.282107735, 21.478336378))
            ThreePointArc((-93.282107735, 21.478336378), (-90.330897311, 22.653111446), (-87.380749007, 21.475671677))
            ThreePointArc((-87.380749007, 21.475671677), (-82.795143663, 22.386850585), (-80.108792654, 18.56042384))
            Line((-80.108792654, 18.56042384), (-80.108792654, 12.241415598))
            ThreePointArc((-80.108792654, 12.241415598), (-80.031462218, 11.894680427), (-79.883644575, 11.571639843))
            ThreePointArc((-79.883644575, 11.571639843), (-78.143713833, 10.853580593), (-76.8705778, 12.239976176))
            Line((-76.8705778, 12.239976176), (-76.8705778, 18.560232339))
            ThreePointArc((-76.8705778, 18.560232339), (-72.580586611, 22.693308976), (-68.290595422, 18.560232339))
            Line((-68.290595422, 18.560232339), (-68.290595422, 15.681425442))
            ThreePointArc((-68.290595422, 15.681425442), (-68.161831452, 15.514995494), (-67.995401503, 15.643759464))
            ThreePointArc((-67.995401503, 15.643759464), (-67.61016894, 16.335001225), (-66.936833912, 16.750740614))
            Line((-66.936833912, 16.750740614), (-62.098100019, 16.750740614))
            Line((-62.098100019, 16.750740614), (-62.098100019, 18.570878683))
            ThreePointArc((-62.098100019, 18.570878683), (-63.685515177, 20.007266782), (-65.280336737, 18.579106481))
            Line((-65.280336737, 18.579106481), (-65.280520839, 18.548706344))
            ThreePointArc((-65.280520839, 18.548706344), (-66.592863995, 17.104711471), (-67.905207152, 18.548706344))
            Line((-67.905207152, 18.548706344), (-67.904613051, 18.557843798))
            ThreePointArc((-67.904613051, 18.557843798), (-63.66346233, 22.655553938), (-59.422311608, 18.557843798))
            ThreePointArc((-59.422311608, 18.557843798), (-59.280820315, 18.400853184), (-59.123829701, 18.542344477))
            ThreePointArc((-59.123829701, 18.542344477), (-57.769460136, 19.721423627), (-56.415090571, 18.542344477))
            ThreePointArc((-56.415090571, 18.542344477), (-56.259369844, 18.399686962), (-56.116712328, 18.55540769))
            ThreePointArc((-56.116712328, 18.55540769), (-51.800640435, 22.65820453), (-47.484568542, 18.55540769))
            Line((-47.484568542, 18.55540769), (-47.484165082, 18.549645907))
            ThreePointArc((-47.484165082, 18.549645907), (-48.867114311, 17.046251937), (-50.232672877, 18.56545956))
            ThreePointArc((-50.232672877, 18.56545956), (-51.850649225, 20.000293119), (-53.475051222, 18.572738232))
            Line((-53.475051222, 18.572738232), (-53.475051222, 12.257898442))
            ThreePointArc((-53.475051222, 12.257898442), (-54.799425661, 11.069198208), (-56.117264026, 12.265140492))
            ThreePointArc((-56.117264026, 12.265140492), (-56.263461761, 12.416806294), (-56.415127562, 12.270608559))
            ThreePointArc((-56.415127562, 12.270608559), (-57.769460136, 11.089414499), (-59.12379271, 12.270608559))
            ThreePointArc((-59.12379271, 12.270608559), (-59.274425762, 12.417640571), (-59.421457775, 12.267007519))
            ThreePointArc((-59.421457775, 12.267007519), (-60.756150352, 11.070553065), (-62.098100019, 12.258862211))
            Line((-62.098100019, 12.258862211), (-62.098100019, 14.108232408))
            Line((-62.098100019, 14.108232408), (-65.348278901, 14.108232408))
        make_face(mode=Mode.SUBTRACT)
    # profile 2 of 2: a face of its own
    with BuildSketch(Plane(origin=(0, 0.5, 0), x_dir=(1, 0, 0), z_dir=(0, 1, 0)).offset(CUT_EXTRUDE1_START)):
        with Locations((-57.769460136, 21.444621451)):
            Circle(SKETCH2_R)
        with Locations(Location((-57.769460136, 21.444621451, 0), (0, 0, 270))):
            Circle(SKETCH2_R_2, mode=Mode.SUBTRACT)
    extrude(amount=CUT_EXTRUDE1_DEPTH)


with BuildPart() as part_1:
    add(part.part)

    # Cut-Extrude1: cut by cut_extrude1_tool
    add(cut_extrude1_tool.part, mode=Mode.SUBTRACT)


with BuildPart() as body_2_1:
    add(body_2.part)

    # Cut-Extrude1: cut by cut_extrude1_tool
    add(cut_extrude1_tool.part, mode=Mode.SUBTRACT)


solid = Compound([part_1.part, body_2_1.part])
